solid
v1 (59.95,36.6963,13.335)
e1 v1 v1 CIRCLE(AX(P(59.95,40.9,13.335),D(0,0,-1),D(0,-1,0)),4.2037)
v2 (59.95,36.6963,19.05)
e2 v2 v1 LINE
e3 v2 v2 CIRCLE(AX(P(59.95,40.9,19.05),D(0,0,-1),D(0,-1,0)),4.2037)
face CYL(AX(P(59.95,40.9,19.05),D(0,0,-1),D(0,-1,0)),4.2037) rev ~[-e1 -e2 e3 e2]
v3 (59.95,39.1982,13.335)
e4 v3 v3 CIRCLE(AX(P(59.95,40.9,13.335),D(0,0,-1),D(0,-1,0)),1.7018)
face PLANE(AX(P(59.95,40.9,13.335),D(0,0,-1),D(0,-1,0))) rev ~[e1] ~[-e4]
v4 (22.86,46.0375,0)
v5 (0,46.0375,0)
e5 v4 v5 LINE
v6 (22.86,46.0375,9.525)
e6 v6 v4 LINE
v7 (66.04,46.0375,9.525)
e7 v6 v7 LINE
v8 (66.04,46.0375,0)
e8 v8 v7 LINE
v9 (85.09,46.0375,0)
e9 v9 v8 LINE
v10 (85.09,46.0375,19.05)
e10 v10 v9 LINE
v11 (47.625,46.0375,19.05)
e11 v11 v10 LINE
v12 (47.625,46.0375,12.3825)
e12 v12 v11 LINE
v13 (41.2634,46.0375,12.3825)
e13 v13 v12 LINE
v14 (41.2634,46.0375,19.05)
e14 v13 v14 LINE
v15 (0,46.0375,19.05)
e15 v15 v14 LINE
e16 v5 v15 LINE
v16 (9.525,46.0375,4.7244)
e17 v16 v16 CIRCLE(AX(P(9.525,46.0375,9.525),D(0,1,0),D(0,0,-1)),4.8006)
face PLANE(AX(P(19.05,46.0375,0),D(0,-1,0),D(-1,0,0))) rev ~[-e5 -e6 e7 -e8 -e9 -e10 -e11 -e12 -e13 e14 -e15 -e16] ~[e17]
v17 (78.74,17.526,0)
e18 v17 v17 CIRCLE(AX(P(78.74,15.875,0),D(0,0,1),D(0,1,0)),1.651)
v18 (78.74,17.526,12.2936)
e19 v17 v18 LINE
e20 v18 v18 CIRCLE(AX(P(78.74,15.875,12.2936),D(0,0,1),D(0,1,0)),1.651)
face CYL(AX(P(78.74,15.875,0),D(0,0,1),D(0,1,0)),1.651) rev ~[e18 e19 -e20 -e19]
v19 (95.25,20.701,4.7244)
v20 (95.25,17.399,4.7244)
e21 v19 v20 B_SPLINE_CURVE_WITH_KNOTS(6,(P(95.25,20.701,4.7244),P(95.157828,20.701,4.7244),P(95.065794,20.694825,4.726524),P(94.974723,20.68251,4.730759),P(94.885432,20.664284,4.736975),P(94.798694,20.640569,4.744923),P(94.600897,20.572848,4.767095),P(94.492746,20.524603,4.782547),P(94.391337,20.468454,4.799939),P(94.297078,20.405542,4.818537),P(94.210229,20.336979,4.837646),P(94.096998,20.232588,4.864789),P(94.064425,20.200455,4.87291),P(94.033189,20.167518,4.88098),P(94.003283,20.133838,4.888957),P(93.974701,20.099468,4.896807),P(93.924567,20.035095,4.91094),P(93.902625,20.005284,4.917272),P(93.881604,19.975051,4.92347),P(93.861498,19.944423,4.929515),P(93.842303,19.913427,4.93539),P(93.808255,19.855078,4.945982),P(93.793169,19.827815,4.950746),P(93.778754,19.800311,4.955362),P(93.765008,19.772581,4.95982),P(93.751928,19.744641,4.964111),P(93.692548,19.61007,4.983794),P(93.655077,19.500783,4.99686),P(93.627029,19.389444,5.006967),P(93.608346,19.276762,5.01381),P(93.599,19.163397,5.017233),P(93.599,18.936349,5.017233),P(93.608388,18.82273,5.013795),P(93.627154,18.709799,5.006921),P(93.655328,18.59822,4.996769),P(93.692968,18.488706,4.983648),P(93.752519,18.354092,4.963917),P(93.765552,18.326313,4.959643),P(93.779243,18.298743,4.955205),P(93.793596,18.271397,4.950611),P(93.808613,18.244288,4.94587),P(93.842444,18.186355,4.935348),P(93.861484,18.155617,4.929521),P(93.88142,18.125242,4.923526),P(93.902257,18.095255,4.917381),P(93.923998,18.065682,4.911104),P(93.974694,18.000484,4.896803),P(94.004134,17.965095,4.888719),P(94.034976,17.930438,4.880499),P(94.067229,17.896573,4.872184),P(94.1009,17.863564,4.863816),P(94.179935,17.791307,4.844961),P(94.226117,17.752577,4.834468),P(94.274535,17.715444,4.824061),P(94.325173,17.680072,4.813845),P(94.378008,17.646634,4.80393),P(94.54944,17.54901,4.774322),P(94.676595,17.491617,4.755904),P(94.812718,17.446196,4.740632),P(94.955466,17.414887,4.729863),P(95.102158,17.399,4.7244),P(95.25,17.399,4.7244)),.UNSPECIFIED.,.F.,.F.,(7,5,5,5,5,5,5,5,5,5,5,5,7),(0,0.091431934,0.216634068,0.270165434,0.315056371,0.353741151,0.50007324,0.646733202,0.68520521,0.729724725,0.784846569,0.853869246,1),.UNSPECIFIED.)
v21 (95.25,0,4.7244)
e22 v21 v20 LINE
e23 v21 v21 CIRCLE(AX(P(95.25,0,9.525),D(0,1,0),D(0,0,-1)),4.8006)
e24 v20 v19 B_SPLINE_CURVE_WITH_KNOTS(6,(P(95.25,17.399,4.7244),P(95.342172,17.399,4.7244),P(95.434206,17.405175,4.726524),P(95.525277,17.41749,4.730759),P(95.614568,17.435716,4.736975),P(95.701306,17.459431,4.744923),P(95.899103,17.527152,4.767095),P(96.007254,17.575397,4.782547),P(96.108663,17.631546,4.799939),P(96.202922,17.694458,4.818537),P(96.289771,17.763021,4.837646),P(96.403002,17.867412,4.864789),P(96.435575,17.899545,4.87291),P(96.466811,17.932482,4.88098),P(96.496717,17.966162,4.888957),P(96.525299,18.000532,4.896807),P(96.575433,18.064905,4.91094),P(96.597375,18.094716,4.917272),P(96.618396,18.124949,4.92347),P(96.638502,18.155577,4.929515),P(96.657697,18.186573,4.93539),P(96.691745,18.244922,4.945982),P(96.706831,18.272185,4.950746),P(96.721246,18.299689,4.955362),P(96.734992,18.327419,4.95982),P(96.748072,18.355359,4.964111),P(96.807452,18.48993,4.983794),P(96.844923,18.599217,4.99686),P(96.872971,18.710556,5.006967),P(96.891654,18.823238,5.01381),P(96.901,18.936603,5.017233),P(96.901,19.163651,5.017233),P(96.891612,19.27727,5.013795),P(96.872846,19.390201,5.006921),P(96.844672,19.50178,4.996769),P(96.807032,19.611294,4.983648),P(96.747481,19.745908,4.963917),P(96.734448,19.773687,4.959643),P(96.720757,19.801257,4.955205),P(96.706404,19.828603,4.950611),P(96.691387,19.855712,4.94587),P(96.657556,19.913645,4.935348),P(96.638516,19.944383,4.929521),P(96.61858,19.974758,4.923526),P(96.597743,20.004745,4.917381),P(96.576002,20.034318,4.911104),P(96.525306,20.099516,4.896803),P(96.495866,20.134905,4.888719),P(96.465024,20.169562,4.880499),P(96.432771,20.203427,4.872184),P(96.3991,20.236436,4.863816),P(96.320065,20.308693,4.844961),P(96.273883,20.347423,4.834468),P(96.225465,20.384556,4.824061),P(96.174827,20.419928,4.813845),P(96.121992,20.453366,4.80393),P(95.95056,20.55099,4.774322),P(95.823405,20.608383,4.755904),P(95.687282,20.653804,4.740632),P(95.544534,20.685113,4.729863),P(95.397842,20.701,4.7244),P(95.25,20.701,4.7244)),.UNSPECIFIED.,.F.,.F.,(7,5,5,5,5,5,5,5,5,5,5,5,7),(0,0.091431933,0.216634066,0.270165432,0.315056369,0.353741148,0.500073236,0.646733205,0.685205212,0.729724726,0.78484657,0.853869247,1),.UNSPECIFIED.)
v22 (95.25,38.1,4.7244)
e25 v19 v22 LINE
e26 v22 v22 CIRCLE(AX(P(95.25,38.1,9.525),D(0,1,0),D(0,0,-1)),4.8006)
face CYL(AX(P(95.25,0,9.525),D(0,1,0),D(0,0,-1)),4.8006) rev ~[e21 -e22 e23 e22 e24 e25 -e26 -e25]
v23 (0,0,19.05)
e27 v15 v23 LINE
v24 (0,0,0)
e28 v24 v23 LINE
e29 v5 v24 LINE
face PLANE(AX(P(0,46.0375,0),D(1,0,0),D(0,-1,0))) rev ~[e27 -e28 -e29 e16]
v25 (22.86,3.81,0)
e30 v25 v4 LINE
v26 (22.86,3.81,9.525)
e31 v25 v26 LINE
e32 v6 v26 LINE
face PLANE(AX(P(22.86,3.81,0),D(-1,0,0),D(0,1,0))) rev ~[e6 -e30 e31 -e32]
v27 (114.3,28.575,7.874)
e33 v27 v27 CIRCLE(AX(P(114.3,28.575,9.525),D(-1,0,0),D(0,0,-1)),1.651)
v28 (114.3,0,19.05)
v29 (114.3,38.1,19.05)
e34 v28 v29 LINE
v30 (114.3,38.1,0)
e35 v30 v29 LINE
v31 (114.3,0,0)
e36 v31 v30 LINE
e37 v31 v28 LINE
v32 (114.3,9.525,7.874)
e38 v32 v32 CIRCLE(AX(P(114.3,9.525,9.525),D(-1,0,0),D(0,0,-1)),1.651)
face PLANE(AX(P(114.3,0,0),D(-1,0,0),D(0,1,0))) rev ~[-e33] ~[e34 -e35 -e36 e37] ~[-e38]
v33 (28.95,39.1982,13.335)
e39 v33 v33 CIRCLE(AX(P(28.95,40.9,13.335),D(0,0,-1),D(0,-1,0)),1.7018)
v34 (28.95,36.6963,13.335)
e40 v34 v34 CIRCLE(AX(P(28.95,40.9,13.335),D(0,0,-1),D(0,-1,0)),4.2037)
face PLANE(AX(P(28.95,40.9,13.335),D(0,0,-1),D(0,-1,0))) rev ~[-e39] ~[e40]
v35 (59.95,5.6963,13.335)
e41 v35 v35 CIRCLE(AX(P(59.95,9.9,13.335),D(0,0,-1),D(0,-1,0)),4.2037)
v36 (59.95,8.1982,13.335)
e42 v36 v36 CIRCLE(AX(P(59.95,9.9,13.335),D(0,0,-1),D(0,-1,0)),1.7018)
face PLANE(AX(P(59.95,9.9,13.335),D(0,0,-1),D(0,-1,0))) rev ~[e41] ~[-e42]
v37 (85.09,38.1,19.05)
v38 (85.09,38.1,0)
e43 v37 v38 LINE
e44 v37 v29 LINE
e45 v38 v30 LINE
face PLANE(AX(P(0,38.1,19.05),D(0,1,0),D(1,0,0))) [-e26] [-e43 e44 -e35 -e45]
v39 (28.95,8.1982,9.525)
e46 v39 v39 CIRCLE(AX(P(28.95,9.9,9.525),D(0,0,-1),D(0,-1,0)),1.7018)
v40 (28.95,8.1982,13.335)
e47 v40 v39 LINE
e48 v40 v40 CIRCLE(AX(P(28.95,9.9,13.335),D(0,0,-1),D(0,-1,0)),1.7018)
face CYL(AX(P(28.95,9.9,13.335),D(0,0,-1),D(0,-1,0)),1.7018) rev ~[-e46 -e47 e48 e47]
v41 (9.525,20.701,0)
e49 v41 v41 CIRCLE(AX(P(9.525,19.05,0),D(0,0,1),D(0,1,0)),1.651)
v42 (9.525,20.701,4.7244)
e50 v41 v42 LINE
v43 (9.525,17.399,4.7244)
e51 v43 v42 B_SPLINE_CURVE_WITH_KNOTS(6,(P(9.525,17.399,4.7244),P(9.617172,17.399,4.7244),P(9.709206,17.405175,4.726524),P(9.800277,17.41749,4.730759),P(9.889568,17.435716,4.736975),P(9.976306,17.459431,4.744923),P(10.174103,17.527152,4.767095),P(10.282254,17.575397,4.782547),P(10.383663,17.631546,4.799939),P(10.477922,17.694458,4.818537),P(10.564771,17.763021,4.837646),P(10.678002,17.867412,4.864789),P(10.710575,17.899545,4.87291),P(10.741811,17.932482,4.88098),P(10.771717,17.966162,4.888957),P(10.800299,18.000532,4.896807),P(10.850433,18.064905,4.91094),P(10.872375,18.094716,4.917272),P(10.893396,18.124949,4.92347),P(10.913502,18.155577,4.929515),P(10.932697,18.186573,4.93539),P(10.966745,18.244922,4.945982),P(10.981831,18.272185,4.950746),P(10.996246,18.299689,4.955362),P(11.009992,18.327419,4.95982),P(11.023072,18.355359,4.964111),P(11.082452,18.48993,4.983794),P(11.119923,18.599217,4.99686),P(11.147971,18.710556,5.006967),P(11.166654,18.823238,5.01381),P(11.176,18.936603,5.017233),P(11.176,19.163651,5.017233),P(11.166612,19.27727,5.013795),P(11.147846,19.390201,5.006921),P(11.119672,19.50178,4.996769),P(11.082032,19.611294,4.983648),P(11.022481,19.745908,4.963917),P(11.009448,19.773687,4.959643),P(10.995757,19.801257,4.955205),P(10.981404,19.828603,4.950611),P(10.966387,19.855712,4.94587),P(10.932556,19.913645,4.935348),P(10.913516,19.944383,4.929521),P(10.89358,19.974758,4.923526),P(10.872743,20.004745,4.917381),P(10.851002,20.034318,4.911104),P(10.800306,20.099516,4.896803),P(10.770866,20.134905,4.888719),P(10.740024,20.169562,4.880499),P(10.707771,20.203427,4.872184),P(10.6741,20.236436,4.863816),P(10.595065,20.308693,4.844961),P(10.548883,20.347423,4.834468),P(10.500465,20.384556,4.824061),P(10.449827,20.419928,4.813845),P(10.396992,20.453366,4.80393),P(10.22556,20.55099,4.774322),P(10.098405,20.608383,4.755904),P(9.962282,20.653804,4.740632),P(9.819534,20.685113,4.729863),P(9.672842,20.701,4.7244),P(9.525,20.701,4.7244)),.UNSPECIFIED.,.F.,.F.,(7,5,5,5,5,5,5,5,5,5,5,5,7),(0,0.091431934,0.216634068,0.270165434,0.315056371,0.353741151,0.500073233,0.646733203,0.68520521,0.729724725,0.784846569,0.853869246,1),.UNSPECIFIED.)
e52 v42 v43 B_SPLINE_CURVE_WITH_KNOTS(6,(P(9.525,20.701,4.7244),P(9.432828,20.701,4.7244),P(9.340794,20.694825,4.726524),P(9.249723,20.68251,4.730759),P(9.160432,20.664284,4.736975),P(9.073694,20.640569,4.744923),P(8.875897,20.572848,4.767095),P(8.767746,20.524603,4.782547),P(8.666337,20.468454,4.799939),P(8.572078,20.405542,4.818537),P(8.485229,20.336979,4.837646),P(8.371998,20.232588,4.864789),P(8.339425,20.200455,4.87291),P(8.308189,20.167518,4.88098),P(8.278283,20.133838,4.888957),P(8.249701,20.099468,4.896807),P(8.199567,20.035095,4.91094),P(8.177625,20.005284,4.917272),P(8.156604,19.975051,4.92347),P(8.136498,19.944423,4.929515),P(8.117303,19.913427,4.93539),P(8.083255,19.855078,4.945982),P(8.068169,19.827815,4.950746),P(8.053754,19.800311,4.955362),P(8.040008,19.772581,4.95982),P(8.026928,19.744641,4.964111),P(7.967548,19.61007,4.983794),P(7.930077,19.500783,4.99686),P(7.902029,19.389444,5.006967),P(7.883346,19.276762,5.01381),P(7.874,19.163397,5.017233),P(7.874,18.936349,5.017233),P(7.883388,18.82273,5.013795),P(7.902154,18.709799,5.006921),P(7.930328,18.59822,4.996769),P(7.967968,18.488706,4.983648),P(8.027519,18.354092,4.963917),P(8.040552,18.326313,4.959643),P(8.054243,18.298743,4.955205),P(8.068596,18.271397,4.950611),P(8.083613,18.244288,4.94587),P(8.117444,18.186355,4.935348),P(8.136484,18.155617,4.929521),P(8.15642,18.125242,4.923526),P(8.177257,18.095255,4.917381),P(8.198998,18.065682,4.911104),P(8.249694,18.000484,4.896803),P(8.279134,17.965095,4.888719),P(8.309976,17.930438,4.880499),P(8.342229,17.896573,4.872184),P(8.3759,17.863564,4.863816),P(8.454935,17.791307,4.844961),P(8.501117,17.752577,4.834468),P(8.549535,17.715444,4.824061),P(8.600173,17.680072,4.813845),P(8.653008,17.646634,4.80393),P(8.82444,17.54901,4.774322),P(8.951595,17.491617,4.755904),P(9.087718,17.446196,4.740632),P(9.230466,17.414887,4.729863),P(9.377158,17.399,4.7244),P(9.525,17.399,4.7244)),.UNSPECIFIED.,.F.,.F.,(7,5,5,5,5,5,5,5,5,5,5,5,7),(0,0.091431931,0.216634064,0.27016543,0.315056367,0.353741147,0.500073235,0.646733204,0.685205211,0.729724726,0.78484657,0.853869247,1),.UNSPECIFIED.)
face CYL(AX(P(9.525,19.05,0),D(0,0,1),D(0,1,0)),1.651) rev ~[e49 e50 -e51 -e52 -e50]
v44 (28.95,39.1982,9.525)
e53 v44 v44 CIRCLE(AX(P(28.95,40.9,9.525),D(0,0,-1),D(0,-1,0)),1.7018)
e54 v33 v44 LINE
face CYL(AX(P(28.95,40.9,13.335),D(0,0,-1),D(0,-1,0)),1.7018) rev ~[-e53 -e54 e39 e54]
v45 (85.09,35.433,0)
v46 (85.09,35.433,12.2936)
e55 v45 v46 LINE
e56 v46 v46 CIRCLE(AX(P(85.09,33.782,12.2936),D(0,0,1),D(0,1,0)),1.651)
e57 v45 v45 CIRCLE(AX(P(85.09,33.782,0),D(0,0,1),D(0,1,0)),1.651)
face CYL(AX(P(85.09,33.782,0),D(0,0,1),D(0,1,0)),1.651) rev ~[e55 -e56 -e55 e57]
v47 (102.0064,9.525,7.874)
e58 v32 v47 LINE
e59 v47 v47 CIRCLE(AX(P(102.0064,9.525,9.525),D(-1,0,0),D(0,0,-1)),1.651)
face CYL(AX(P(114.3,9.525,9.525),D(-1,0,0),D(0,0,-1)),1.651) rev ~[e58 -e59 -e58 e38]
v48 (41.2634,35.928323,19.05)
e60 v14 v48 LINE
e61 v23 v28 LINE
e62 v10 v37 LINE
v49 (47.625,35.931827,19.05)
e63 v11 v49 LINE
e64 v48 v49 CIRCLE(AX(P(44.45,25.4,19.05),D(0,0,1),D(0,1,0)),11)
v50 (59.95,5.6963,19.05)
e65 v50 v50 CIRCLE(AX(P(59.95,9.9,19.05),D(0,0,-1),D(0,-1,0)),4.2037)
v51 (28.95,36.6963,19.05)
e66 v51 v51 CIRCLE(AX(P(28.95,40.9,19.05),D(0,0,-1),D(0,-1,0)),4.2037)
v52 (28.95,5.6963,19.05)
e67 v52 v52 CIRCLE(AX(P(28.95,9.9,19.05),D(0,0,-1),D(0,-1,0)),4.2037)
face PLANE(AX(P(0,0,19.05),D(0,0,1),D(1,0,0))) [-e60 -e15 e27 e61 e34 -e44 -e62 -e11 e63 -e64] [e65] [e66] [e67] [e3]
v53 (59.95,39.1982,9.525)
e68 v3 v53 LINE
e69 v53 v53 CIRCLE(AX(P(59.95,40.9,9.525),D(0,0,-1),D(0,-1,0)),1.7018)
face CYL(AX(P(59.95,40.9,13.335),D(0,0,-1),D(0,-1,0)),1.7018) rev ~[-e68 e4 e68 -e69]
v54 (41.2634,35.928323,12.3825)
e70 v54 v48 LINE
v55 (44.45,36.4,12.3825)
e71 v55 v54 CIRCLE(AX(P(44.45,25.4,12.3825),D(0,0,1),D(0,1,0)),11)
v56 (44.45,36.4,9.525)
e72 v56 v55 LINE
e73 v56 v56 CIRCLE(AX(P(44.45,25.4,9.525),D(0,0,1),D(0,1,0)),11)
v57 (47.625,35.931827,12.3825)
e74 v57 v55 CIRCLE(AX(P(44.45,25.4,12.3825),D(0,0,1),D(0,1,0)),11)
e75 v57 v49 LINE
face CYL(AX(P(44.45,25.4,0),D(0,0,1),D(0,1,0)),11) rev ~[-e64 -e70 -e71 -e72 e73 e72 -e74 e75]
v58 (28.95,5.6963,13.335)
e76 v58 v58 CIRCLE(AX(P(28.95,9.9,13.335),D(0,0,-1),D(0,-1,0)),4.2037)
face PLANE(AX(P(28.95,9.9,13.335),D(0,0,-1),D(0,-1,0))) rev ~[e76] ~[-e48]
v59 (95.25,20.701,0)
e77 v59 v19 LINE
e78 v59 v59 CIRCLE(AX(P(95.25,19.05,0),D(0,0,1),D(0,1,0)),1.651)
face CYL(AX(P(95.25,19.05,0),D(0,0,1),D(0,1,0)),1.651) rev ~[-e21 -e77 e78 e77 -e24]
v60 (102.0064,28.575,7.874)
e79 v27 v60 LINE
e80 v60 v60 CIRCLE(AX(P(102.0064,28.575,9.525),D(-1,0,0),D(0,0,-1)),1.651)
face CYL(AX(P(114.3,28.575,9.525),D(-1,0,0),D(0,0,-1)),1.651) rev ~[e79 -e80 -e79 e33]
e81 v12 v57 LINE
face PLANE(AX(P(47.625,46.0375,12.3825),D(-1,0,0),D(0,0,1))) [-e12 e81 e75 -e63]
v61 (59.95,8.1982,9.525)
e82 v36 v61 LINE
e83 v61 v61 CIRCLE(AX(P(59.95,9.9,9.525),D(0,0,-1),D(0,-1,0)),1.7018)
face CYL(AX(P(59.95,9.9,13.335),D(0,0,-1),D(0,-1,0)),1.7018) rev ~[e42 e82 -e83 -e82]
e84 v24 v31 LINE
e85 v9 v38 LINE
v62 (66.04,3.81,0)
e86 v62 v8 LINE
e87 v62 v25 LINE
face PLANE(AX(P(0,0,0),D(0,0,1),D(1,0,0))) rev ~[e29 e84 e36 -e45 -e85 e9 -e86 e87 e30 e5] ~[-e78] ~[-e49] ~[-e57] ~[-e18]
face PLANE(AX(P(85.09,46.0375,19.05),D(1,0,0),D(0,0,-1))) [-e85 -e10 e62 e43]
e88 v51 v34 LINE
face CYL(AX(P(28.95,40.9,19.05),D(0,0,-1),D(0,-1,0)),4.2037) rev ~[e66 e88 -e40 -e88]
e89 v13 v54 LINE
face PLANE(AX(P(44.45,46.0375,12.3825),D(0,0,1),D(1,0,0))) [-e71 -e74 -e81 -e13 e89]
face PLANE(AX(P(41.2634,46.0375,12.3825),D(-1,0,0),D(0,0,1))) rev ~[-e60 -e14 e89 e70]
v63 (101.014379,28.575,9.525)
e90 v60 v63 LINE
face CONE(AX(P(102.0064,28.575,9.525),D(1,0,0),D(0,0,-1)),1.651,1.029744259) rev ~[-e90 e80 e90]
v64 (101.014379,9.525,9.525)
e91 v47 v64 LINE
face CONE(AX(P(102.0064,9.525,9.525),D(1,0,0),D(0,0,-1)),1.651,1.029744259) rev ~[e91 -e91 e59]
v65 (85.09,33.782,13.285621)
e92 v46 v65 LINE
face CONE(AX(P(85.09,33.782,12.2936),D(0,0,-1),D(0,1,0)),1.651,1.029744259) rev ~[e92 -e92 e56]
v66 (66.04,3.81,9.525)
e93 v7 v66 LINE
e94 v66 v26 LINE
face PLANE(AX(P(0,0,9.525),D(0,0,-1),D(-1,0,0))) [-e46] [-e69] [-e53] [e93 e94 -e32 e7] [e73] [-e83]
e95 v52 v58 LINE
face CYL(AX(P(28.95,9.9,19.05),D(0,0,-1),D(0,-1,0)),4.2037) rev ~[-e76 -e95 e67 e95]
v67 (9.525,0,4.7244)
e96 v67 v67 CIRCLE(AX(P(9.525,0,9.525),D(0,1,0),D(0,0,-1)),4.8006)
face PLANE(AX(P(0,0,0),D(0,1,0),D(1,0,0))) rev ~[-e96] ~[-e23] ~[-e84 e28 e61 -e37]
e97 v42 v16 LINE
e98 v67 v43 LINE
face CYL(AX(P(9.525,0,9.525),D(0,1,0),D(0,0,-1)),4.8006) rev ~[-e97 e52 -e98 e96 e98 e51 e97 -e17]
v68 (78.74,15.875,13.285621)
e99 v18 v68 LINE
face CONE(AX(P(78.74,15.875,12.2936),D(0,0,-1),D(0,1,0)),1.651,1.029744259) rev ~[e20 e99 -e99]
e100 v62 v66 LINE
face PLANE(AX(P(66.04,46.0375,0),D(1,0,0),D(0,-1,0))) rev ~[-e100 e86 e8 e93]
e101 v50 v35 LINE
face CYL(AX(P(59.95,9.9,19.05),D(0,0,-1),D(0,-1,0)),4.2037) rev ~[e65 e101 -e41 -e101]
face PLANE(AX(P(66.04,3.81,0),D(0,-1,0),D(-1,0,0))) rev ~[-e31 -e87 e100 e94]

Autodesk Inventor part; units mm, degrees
ref_plane "YZ Plane" through (0, 0, 0) normal (1, 0, 0) x (0, 1, 0)
ref_plane "XZ Plane" through (0, 0, 0) normal (0, 1, 0) x (-1, 0, 0)
ref_plane "XY Plane" through (0, 0, 0) normal (0, 0, 1) x (1, 0, 0)
sketch "Sketch1" plane through (0, 0, 0) normal (0, 0, 1) x (1, 0, 0)
  line L0 (0, 0) -> (114.3, 0)
  line L1 (114.3, 0) -> (114.3, 46.0375)
  line L2 (114.3, 46.0375) -> (0, 46.0375)
  line L3 (0, 46.0375) -> (0, 0)
  line L4 (69.85, 46.0375) -> (19.05, 46.0375)
  point P0 (44.45, 46.0375)
  dimension "d0" = 114.3
  dimension "d1" = 46.0375
  dimension "d62" = 69.85
extrude "Extrusion1" add sketch "Sketch1" along normal blind 19.05
sketch "Sketch2" plane through (0, 0, 0) normal (0, 0, -1) x (-1, 0, 0)
  line L0 (-114.3, 46.0375) -> (0, 46.0375) projected
  line L1 (-114.3, 0) -> (-114.3, 46.0375) projected
  point P0 (0, 0)
  point P1 (-44.45, 25.4)
  point P2 (-19.05, 38.1)
  point P3 (0, 46.0375)
  dimension "d7" = 20.6375
  dimension "d8" = 69.85
hole "Hole1" at (44.45, 25.4, 0) direction (0, 0, 1) diameter 22 depth 25.4 tip angle 118
sketch "Sketch3" plane through (0, 0, 0) normal (0, 0, -1) x (-1, 0, 0)
  line L0 (-66.04, 3.81) -> (-22.86, 3.81)
  line L1 (-22.86, 3.81) -> (-22.86, 46.99)
  line L2 (-22.86, 46.99) -> (-66.04, 46.99)
  line L3 (-66.04, 46.99) -> (-66.04, 3.81)
  line L4 (-66.04, 3.81) -> (-22.86, 46.99) construction
  line L5 (-22.86, 3.81) -> (-66.04, 46.99) construction
  line L6 (-114.3, 46.0375) -> (0, 46.0375) projected
  line L7 (-69.85, 46.0375) -> (-19.05, 46.0375) projected
  line L8 (-66.04, 46.99) -> (-22.86, 46.99)
  line L9 (-22.86, 46.99) -> (-22.86, 46.0375)
  line L10 (-22.86, 46.0375) -> (-66.04, 46.0375)
  line L11 (-66.04, 46.0375) -> (-66.04, 46.99)
  line L12 (-114.3, 0) -> (-114.3, 46.0375) projected
  point P0 (0, 0)
  point P1 (-44.45, 25.4)
  point P2 (-19.05, 38.1)
  point P3 (0, 46.0375)
  dimension "d16" = 20.6375
  dimension "d17" = 43.18
  dimension "d18" = 43.18
  dimension "d21" = 69.85
  dimension "d22" = 43.18
extrude "Extrusion2" cut sketch "Sketch3" against normal blind 9.525
sketch "Sketch4" plane through (0, 0, 19.05) normal (0, 0, 1) x (1, 0, 0)
  line L0 (28.95, 9.9) -> (59.95, 9.9)
  line L1 (59.95, 9.9) -> (59.95, 40.9)
  line L2 (59.95, 40.9) -> (28.95, 40.9)
  line L3 (28.95, 40.9) -> (28.95, 9.9)
  line L4 (28.95, 9.9) -> (59.95, 40.9) construction
  line L5 (59.95, 9.9) -> (28.95, 40.9) construction
  line L6 (114.3, 46.0375) -> (0, 46.0375) projected
  line L7 (114.3, 0) -> (114.3, 46.0375) projected
  point P0 (0, 0)
  point P1 (44.45, 25.4)
  point P2 (69.85, 38.1)
  point P3 (0, 46.0375)
  dimension "d23" = 20.6375
  dimension "d24" = 69.85
  dimension "d25" = 31
  dimension "d26" = 31
hole "Hole2" at (28.95, 40.9, 19.05) at (28.95, 9.9, 19.05) at (59.95, 40.9, 19.05) at (59.95, 9.9, 19.05) direction (0, 0, -1) diameter 3.4036 end through all counterbore diameter 8.4074 counterbore depth 5.715 clearance for "Hex Head Machine Screw" size "M3" standard "Ansi Metric M Profile"
sketch "Sketch5" plane through (0, 0, 0) normal (0, -1, 0) x (1, 0, 0)
  line L0 (95.25, 9.525) -> (9.525, 9.525)
  line L1 (0, 0) -> (114.3, 0) projected
  line L2 (114.3, 0) -> (114.3, 19.05) projected
  dimension "d34" = 85.725
  dimension "d35" = 9.525
  dimension "d36" = 19.05
hole "Hole3" at (95.25, 0, 9.525) at (9.525, 0, 9.525) direction (0, 1, 0) diameter 9.6012 end through all
sketch "Sketch6" plane through (0, 0, 0) normal (0, 0, -1) x (-1, 0, 0)
  line L0 (-114.3, 46.0375) -> (0, 46.0375) projected
  line L1 (0, 46.0375) -> (0, 0) projected
  line L2 (0, 0) -> (-114.3, 0) projected
  line L3 (-100.0506, 46.0375) -> (-90.4494, 46.0375) projected
  line L4 (-114.3, 0) -> (-114.3, 46.0375) projected
  line L5 (-14.3256, 46.0375) -> (-4.7244, 46.0375) projected
  point P0 (-19.05, 38.1)
  point P1 (-95.25, 19.05)
  point P2 (-9.525, 19.05)
  point P3 (-19.05, 46.0375)
  point P4 (-22.86, 0)
  dimension "d105" = 19.05
  dimension "d108" = 19.05
  dimension "d110" = 9.6012
  dimension "d111" = 4.8006
  dimension "d112" = 9.525
hole "Hole4" at (95.25, 19.05, 0) at (9.525, 19.05, 0) direction (0, 0, 1) diameter 3.302 depth 12.2936 tip angle 118 thread size "8-32 UNC" class "2B" standard "ANSI Unified Screw Threads"
sketch "Sketch8" plane through (114.3, 0, 0) normal (1, 0, 0) x (0, 0, -1)
  line L0 (-19.05, 46.0375) -> (-19.05, 0) projected
  line L1 (0, 0) -> (-19.05, 0) projected
  line L2 (0, 46.0375) -> (-19.05, 46.0375) projected
  point P0 (-9.525, 9.525)
  point P1 (-9.525, 28.575)
  dimension "d87" = 19.05
  dimension "d88" = 9.525
  dimension "d90" = 9.525
  dimension "d99" = 9.525
hole "Hole8" at (114.3, 9.525, 9.525) at (114.3, 28.575, 9.525) direction (-1, 0, 0) diameter 3.302 depth 12.2936 tip angle 118 thread size "8-32 UNC" class "2B" standard "ANSI Unified Screw Threads"
sketch "Sketch11" plane through (0, 46.0375, 19.05) normal (0, 1, 0) x (1, 0, 0)
  line L0 (66.04, 9.525) -> (22.86, 9.525) projected
  line L1 (114.3, 0) -> (0, 0) projected
  line L2 (22.86, 9.525) -> (22.86, 19.05) projected
  line L3 (66.04, 19.05) -> (66.04, 9.525) projected
  point P0 (0, 19.05)
  point P1 (44.45, 4.7625)
  dimension "d114" = 9.525
  dimension "d115" = 43.18
  dimension "d116" = 4.7625
  dimension "d117" = 21.59
hole "Hole9" at (44.45, 46.0375, 14.2875) direction (0, -1, 0) diameter 3.81 depth 19.05 tip angle 118 clearance for "Hex Machine Screw" size "#6" standard "Ansi Unified Screw Threads"
sketch "Sketch14" plane through (0, 46.0375, 19.05) normal (0, 1, 0) x (1, 0, 0)
  line L0 (0, 0) -> (114.3, 0) projected
  line L1 (0, 19.05) -> (114.3, 19.05) projected
  line L2 (114.3, 0) -> (85.09, 0)
  line L3 (85.09, 0) -> (85.09, 19.05)
  line L4 (85.09, 19.05) -> (114.3, 19.05)
  line L5 (114.3, 19.05) -> (114.3, 0)
  dimension "d130" = 29.21
extrude "Extrusion5" cut sketch "Sketch14" against normal blind 7.9375
sketch "Sketch15" plane through (0, 0, 0) normal (0, 0, -1) x (-1, 0, 0)
  line L0 (-22.86, 3.81) -> (-66.04, 3.81) projected
  line L1 (-66.04, 3.81) -> (-66.04, 46.0375) projected
  line L2 (-85.09, 38.1) -> (-114.3, 38.1) projected
  line L3 (-85.09, 46.0375) -> (-85.09, 38.1) projected
  point P0 (0, 0)
  point P1 (-78.74, 15.875)
  point P2 (-85.09, 33.782)
  dimension "d133" = 12.065
  dimension "d134" = 12.7
  dimension "d135" = 4.318
  dimension "d136" = 0
hole "Hole10" at (78.74, 15.875, 0) at (85.09, 33.782, 0) direction (0, 0, 1) diameter 3.302 depth 12.2936 tip angle 118 thread size "8-32 UNC" class "2B" standard "ANSI Unified Screw Threads"
sketch "Sketch16" plane through (0, 46.0375, 19.05) normal (0, 1, 0) x (1, 0, 0)
  point P0 (0, 19.05)
sketch "Sketch17" plane through (0, 46.0375, 19.05) normal (0, 1, 0) x (1, 0, 0)
  circle A0 centre (44.45, 4.7625) radius 1.905 projected
  line L0 (0, 0) -> (114.3, 0) projected
  line L1 (44.45, 6.6675) -> (41.2634, 6.6675)
  line L2 (41.2634, 6.6675) -> (41.2634, 0)
  line L3 (41.2634, 0) -> (44.45, 0)
  line L4 (44.45, 0) -> (44.45, 6.6675)
  line L5 (44.45, 6.6675) -> (47.625, 6.6675)
  line L6 (47.625, 6.6675) -> (47.625, 0)
  line L7 (47.625, 0) -> (44.45, 0)
  line L8 (44.45, 0) -> (44.45, 6.6675)
  point P0 (0, 19.05)
  dimension "d144" = 3.175
extrude "Extrusion6" cut sketch "Sketch17" against normal blind 25.4
sketch "Sketch9" plane through (0, 0, 0) normal (0, 0, -1) x (-1, 0, 0)
  line L0 (-139.7, 41.275) -> (0, 41.275)
  line L1 (0, 0) -> (-114.3, 0) projected
  line L2 (-101.6, 31.369) -> (-38.1, 31.369)
  line L3 (0, 46.0375) -> (0, 0) projected
  line L4 (-19.05, 46.0375) -> (0, 46.0375) projected
  line L5 (0, 46.0375) -> (-31.75, 41.275)
  line L6 (-4.5219, 55.376) -> (-36.0166, 50.6518)
  point P0 (-19.05, 38.1)
  point P1 (-23.7267, 67.9523)
  dimension "d63" = 41.275
  dimension "d64" = 9.906
  dimension "d65" = 139.7
  dimension "d66" = 0
  dimension "d67" = 31.75
  dimension "d68" = 9.906
  dimension "d69" = 9.906
  dimension "d71" = 63.5
  dimension "d72" = 38.1
sketch "Sketch7" plane through (0, 0, 0) normal (-1, 0, 0) x (0, 0, 1)
  line L0 (9.525, 46.0375) -> (9.525, 3.81) projected
  line L1 (9.525, 24.9237) -> (9.525, -32.2263)
  point P0 (0, 0)
  point P1 (9.525, 89.85)
  dimension "d54" = 57.15
equation "\"d108\" = d105"
properties part number "ps system back mount"
